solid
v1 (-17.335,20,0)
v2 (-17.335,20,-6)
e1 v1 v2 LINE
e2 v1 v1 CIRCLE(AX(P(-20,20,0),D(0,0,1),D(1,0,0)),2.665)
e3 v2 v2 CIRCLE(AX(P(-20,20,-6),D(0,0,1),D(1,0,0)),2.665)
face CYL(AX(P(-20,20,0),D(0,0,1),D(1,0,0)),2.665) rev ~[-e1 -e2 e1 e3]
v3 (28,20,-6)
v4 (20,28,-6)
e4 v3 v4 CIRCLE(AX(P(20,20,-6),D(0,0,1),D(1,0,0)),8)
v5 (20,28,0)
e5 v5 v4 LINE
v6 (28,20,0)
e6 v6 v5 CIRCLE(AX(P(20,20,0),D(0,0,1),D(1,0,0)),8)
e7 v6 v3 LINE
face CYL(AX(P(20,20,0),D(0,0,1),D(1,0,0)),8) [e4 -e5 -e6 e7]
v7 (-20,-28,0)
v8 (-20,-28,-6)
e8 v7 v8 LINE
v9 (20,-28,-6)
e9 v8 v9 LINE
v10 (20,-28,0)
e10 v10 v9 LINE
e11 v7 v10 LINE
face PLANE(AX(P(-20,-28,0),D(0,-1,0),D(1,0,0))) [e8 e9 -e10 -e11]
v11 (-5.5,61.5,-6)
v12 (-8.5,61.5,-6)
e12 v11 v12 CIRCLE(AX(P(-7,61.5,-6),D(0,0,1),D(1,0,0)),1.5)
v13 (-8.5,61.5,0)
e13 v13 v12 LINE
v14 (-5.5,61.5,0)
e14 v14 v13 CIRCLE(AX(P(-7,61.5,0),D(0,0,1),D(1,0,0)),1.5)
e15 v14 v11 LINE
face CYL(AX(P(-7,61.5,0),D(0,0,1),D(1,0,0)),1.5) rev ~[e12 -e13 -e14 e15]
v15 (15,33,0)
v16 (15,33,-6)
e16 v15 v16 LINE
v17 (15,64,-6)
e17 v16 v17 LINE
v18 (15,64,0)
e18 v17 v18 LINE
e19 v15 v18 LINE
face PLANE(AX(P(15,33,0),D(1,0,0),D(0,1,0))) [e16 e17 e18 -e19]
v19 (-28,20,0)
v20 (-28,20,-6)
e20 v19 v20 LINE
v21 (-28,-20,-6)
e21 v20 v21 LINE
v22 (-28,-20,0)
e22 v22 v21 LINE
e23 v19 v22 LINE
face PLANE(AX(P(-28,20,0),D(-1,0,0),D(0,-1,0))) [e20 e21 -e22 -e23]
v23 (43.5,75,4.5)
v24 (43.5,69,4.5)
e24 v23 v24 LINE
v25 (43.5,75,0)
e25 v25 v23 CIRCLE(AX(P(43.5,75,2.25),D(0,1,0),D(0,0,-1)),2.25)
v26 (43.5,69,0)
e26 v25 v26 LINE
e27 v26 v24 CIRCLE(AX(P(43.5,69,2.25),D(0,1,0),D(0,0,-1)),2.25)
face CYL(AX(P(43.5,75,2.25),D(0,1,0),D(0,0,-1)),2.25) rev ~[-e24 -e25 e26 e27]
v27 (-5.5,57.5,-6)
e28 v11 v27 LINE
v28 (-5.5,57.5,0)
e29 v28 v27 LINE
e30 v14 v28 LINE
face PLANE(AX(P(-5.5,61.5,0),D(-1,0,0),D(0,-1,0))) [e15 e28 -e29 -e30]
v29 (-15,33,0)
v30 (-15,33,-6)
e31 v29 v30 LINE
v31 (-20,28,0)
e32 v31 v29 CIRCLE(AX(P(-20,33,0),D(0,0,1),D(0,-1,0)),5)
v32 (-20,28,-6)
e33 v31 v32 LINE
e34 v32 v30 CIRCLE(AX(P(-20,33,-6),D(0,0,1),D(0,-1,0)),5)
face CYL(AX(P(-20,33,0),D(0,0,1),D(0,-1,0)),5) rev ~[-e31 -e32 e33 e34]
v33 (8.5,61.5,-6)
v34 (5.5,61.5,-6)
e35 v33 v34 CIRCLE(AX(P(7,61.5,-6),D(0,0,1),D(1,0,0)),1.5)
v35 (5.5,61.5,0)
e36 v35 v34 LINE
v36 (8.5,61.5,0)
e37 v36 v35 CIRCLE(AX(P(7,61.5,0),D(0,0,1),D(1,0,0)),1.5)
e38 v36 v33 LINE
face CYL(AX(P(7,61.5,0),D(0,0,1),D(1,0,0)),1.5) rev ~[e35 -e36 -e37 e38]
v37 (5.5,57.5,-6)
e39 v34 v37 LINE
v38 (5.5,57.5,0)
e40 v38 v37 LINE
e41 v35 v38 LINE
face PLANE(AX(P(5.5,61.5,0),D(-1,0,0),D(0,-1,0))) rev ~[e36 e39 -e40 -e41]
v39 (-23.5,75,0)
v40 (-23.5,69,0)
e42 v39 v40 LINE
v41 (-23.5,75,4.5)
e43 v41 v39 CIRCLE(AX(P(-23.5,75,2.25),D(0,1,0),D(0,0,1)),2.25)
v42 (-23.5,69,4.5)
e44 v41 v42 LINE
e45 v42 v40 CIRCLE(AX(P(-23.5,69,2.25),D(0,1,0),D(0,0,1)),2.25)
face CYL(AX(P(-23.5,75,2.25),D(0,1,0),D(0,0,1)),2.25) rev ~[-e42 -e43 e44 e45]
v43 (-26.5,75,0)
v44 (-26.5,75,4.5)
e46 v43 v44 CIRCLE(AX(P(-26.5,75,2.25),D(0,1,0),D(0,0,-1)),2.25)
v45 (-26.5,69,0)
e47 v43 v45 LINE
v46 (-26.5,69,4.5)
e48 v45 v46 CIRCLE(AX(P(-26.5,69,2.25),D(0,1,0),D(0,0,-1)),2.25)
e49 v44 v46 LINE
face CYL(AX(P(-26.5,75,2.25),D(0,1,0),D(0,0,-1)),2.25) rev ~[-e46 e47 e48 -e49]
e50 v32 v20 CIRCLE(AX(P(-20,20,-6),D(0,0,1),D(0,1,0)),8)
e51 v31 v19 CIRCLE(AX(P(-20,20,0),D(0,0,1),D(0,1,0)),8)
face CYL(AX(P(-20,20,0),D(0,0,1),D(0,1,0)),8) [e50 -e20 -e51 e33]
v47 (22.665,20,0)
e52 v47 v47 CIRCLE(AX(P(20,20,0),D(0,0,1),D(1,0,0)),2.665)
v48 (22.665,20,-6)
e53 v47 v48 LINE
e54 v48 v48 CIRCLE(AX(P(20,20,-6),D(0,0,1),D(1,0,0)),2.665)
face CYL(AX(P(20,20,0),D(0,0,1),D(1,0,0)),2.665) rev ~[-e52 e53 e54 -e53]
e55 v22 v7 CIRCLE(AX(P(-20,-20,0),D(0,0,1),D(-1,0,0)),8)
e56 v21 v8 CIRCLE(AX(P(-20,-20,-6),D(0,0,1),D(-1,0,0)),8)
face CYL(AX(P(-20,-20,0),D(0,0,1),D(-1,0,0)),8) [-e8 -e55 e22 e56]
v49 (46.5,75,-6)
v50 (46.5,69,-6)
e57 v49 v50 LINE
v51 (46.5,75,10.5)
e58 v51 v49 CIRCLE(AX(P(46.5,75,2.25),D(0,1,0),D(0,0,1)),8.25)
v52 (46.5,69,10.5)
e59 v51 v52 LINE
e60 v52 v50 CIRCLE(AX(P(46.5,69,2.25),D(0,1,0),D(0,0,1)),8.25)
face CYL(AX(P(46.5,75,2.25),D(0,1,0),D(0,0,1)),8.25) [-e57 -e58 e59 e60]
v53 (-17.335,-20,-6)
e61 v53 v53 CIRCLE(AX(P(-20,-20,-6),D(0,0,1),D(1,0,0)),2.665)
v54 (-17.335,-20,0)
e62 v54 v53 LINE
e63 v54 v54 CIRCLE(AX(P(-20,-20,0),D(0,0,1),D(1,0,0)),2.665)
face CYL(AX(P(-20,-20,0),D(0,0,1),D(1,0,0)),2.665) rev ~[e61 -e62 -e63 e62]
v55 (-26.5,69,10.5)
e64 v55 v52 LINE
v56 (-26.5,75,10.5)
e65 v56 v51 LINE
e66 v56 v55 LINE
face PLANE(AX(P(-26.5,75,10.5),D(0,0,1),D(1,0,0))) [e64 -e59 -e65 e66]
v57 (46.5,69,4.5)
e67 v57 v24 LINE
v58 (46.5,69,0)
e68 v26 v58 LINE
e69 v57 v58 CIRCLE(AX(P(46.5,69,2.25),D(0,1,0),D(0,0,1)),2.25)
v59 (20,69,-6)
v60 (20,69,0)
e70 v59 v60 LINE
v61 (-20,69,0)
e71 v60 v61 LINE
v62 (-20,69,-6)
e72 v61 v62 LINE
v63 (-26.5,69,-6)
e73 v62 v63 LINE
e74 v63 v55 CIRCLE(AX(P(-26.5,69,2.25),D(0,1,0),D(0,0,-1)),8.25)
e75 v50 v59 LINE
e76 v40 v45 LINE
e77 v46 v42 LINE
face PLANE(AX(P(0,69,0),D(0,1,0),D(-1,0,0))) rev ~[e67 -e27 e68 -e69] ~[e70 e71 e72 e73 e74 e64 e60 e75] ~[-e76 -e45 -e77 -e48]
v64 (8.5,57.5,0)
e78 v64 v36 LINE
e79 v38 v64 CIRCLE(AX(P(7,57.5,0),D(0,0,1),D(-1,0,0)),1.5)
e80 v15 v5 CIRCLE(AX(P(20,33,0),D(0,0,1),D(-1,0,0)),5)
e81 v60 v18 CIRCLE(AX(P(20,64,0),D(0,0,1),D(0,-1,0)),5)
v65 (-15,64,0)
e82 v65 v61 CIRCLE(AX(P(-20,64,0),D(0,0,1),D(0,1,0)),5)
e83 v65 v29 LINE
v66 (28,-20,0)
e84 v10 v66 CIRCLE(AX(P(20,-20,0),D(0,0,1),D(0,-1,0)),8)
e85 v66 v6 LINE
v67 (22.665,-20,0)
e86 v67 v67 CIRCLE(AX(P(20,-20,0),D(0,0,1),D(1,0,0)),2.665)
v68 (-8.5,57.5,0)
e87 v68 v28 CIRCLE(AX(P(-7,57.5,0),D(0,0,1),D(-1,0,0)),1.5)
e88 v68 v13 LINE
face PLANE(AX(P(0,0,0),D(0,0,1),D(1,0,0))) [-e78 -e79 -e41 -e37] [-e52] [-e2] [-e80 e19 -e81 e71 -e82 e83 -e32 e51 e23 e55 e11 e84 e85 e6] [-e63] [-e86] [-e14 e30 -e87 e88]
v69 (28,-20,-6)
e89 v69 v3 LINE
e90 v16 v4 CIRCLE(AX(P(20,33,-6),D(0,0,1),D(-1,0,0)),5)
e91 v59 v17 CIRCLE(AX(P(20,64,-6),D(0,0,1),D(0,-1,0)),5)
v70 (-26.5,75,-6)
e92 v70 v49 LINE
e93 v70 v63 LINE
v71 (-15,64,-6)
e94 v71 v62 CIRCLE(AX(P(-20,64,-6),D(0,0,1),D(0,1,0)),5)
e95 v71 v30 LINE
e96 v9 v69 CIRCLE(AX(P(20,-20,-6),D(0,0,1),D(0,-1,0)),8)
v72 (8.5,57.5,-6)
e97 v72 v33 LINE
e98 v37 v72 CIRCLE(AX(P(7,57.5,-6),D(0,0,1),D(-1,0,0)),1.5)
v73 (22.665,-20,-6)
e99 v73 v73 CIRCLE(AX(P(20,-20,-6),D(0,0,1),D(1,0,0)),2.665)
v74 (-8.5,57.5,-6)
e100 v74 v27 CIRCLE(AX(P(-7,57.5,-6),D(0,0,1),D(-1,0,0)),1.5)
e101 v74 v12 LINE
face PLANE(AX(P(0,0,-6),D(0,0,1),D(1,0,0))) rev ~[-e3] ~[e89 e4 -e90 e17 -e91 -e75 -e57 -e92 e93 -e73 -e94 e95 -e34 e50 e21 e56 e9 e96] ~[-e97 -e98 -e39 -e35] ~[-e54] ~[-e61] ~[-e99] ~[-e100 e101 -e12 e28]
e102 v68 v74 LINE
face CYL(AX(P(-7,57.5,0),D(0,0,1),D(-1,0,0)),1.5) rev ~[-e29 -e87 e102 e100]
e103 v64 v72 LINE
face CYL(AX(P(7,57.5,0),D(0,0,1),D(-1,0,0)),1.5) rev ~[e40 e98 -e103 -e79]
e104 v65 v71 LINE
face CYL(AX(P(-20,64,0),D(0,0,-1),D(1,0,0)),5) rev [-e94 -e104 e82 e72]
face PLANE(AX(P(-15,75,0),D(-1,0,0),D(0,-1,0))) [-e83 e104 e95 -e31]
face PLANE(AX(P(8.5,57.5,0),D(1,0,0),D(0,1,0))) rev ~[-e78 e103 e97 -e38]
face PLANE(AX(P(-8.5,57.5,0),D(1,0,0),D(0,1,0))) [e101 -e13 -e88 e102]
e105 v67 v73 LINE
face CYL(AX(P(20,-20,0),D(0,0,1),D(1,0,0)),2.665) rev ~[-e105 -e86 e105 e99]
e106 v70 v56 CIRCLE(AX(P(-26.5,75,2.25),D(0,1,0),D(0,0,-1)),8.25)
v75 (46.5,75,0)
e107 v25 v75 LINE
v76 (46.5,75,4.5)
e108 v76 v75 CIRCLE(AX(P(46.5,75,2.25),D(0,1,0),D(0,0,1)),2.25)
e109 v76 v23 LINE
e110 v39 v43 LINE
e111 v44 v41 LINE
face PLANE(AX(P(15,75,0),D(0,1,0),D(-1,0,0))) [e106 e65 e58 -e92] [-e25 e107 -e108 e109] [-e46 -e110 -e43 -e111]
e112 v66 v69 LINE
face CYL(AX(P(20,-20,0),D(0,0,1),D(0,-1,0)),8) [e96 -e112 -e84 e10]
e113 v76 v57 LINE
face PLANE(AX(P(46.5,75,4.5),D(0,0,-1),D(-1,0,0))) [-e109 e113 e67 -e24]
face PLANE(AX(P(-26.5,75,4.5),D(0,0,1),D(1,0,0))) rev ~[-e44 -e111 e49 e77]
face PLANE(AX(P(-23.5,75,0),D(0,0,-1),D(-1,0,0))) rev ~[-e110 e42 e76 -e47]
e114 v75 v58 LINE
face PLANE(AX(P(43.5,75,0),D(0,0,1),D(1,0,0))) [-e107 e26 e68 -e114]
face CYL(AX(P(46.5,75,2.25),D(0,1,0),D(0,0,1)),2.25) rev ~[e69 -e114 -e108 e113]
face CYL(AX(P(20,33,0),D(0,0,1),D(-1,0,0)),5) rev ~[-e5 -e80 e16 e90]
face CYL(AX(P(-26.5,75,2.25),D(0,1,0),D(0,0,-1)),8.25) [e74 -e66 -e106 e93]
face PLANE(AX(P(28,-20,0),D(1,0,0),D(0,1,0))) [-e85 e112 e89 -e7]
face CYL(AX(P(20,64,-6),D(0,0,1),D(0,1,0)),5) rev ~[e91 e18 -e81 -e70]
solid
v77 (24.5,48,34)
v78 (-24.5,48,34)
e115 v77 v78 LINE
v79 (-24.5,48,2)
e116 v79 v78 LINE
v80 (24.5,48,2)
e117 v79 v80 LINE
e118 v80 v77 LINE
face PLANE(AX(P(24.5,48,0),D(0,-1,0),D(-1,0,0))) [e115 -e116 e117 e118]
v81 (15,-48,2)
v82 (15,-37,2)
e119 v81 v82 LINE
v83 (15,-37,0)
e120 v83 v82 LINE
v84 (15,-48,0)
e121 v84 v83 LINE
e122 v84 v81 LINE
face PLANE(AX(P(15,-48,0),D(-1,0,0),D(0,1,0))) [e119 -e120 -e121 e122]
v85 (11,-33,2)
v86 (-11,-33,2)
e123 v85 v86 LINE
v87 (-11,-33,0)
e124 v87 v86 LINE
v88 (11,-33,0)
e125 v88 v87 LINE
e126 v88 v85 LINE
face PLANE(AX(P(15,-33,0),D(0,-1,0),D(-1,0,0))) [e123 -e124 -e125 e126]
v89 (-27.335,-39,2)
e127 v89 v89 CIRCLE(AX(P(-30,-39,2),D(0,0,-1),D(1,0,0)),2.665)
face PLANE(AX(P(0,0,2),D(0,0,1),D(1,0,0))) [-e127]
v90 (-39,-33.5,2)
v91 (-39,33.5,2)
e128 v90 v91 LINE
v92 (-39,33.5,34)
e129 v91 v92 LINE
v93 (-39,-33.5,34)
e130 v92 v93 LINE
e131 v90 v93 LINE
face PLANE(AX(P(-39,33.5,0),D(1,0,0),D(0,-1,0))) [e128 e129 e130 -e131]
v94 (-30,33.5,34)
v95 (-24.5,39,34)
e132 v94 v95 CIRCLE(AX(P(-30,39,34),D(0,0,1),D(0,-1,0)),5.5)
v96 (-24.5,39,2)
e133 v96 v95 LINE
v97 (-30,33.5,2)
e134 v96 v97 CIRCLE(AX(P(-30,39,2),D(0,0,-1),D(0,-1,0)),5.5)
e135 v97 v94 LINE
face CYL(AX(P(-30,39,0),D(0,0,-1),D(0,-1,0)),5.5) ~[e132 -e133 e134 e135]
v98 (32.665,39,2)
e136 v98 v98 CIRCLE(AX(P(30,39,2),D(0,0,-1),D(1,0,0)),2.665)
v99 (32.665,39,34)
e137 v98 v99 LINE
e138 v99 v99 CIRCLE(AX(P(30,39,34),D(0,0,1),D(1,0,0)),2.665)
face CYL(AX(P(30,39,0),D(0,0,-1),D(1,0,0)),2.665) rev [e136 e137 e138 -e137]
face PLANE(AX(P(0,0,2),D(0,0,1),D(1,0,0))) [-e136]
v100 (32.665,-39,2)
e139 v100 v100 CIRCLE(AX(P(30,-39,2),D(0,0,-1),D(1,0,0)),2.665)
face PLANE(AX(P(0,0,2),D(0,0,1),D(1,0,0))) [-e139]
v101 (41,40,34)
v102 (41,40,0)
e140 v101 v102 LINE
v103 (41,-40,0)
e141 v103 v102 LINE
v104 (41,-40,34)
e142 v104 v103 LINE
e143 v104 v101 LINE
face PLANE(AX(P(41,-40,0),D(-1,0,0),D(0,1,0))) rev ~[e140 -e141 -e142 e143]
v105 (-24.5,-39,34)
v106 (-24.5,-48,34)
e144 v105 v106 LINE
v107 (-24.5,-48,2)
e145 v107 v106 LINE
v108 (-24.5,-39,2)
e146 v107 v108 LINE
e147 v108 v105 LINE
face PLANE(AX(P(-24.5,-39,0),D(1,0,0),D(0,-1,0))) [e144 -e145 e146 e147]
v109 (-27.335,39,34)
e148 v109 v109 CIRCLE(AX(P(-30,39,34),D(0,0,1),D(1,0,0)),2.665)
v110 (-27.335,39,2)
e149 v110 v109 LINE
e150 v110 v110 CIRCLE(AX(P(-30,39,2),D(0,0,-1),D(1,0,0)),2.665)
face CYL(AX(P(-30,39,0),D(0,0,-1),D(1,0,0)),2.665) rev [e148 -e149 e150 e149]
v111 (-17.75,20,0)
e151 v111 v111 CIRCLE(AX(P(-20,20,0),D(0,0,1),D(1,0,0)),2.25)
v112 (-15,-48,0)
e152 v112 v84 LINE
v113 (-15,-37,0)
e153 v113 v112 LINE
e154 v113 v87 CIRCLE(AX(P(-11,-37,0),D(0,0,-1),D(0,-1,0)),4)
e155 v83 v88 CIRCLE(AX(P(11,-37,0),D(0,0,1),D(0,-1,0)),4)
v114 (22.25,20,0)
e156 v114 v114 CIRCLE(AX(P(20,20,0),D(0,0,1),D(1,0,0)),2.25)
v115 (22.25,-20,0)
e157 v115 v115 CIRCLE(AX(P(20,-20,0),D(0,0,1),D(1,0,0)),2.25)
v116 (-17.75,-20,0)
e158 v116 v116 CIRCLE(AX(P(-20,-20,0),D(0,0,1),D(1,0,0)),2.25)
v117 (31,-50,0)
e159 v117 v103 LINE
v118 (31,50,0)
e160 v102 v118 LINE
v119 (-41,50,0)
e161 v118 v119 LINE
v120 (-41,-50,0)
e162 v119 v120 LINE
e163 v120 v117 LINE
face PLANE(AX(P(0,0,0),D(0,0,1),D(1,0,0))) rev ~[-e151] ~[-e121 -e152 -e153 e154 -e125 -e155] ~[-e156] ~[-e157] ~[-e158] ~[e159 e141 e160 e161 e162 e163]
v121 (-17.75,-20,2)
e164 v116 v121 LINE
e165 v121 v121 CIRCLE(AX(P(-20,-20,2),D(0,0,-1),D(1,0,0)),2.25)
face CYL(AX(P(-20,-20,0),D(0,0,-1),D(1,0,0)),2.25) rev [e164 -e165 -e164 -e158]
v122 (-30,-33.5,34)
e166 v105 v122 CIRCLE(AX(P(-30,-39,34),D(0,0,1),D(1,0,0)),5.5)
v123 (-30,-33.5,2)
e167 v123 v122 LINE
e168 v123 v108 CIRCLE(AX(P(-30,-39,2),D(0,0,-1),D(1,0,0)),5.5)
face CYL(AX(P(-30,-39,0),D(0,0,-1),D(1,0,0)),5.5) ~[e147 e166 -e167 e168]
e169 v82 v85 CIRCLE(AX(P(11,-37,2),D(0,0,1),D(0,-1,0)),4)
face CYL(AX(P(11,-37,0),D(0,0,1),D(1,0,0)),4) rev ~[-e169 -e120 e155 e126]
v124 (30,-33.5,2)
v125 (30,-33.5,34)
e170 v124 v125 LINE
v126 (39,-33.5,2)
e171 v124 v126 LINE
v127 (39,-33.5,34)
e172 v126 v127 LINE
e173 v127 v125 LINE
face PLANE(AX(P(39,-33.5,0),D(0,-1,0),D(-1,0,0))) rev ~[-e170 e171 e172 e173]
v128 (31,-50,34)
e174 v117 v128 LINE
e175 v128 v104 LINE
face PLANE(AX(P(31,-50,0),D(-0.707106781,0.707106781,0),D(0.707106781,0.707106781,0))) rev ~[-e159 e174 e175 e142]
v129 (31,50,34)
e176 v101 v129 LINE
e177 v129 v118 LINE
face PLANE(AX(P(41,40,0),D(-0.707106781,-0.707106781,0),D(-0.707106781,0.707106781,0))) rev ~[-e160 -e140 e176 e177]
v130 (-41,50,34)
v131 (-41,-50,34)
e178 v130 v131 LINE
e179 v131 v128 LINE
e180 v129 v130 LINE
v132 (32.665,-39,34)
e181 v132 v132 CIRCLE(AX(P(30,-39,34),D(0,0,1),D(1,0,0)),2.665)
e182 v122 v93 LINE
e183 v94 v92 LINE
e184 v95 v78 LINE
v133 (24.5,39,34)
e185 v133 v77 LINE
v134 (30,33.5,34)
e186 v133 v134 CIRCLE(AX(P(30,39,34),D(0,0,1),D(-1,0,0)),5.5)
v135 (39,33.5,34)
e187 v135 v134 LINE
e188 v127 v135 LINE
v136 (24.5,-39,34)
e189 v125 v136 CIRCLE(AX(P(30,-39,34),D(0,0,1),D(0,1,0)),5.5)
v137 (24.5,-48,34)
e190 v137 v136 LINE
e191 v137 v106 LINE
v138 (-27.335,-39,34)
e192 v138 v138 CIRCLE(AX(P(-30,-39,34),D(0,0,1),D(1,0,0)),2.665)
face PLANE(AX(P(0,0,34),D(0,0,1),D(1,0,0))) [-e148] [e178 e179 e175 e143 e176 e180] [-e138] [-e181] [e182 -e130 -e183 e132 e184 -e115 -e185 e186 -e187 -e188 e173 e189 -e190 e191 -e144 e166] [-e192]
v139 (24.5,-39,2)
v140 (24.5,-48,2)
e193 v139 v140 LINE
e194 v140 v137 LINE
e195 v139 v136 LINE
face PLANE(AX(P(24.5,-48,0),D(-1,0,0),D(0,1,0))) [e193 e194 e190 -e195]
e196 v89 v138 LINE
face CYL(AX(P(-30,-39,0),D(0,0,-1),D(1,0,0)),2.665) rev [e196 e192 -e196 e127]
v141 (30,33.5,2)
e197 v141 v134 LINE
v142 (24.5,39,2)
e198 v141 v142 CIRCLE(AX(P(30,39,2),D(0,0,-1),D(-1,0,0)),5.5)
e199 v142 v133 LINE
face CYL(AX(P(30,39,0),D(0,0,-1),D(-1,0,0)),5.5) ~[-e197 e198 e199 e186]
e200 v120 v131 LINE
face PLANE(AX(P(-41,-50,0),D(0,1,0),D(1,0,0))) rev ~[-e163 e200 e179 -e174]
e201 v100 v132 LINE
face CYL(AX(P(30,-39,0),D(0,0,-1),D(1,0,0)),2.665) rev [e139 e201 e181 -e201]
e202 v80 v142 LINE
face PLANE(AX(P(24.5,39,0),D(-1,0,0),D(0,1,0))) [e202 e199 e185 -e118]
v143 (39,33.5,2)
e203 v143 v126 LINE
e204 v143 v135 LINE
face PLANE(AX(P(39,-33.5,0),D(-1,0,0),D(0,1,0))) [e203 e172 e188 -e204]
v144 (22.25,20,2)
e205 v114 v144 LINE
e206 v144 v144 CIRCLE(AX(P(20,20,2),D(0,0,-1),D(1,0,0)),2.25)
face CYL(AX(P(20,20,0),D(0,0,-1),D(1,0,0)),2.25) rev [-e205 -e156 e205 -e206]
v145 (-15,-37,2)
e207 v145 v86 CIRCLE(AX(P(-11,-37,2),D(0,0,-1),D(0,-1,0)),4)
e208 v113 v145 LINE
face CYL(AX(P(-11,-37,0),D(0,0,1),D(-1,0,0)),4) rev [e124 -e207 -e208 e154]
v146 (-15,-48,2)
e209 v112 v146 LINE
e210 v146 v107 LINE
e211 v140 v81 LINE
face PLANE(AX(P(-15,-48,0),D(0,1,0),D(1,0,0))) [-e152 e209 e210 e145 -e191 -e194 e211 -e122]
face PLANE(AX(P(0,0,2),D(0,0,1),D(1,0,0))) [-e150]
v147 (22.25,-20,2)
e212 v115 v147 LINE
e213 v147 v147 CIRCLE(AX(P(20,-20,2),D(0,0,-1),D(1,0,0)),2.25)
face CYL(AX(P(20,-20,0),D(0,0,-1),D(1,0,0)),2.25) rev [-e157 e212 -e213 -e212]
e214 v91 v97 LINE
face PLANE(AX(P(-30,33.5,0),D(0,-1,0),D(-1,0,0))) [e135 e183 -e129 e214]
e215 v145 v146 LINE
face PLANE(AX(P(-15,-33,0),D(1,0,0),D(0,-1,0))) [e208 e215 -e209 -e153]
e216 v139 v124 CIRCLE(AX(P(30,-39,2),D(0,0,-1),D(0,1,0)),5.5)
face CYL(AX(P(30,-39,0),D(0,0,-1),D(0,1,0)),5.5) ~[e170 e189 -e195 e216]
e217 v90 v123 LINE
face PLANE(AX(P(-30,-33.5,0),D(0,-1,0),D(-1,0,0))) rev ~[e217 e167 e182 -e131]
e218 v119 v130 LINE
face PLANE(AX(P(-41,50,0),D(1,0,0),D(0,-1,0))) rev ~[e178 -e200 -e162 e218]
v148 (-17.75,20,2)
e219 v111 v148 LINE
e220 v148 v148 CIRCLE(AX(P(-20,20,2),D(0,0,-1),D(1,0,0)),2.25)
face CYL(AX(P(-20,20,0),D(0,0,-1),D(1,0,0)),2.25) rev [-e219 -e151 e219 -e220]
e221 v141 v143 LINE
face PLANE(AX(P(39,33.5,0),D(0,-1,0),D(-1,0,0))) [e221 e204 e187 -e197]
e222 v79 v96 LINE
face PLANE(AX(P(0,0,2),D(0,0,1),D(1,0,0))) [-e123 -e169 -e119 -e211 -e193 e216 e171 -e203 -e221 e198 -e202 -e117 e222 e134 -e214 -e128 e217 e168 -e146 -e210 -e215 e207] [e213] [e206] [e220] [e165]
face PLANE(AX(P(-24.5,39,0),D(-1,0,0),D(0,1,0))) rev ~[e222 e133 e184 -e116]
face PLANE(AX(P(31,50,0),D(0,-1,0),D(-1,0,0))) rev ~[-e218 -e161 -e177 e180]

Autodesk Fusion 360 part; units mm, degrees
sketch "Sketch1" plane through (0, 0, 0) normal (0, 0, 1) x (1, 0, 0)
  line L0 (-41, 50) -> (-41, -50)
  line L1 (-41, -50) -> (31, -50)
  line L2 (31, -50) -> (41, -40)
  line L3 (41, -40) -> (41, 40)
  line L4 (41, 40) -> (31, 50)
  line L5 (31, 50) -> (-41, 50)
  line L6 (-30, 39) -> (30, 39) construction
  line L7 (30, 39) -> (30, -39) construction
  line L8 (30, -39) -> (-30, -39) construction
  line L9 (-30, -39) -> (-30, 39) construction
  line L10 (0, -39) -> (0, 39) construction
  line L11 (-41, 0) -> (41, 0) construction
  circle A0 centre (-30, 39) radius 2.665
  circle A1 centre (30, 39) radius 2.665
  circle A2 centre (30, -39) radius 2.665
  circle A3 centre (-30, -39) radius 2.665
  line L12 (30.1716, -48) -> (39, -39.1716)
  line L13 (39, -39.1716) -> (39, 39.1716)
  line L14 (39, 39.1716) -> (30.1716, 48)
  line L15 (30.1716, 48) -> (-39, 48)
  line L16 (-39, 48) -> (-39, -48)
  line L17 (-39, -48) -> (30.1716, -48)
  line L18 (-14, 37) -> (14, 37) construction
  line L19 (29, 22) -> (29, -22) construction
  line L20 (14, -37) -> (-14, -37) construction
  line L21 (-29, -22) -> (-29, 22) construction
  line L22 (-29, 0) -> (29, 0) construction
  arc A4 (29, 22) -> (14, 37) centre (14, 22) ccw construction
  arc A5 (-14, 37) -> (-29, 22) centre (-14, 22) ccw construction
  arc A6 (-29, -22) -> (-14, -37) centre (-14, -22) ccw construction
  arc A7 (14, -37) -> (29, -22) centre (14, -22) ccw construction
  arc A8 (24.5, 39) -> (30, 33.5) centre (30, 39) ccw
  arc A9 (30, -33.5) -> (24.5, -39) centre (30, -39) ccw
  line L23 (24.5, -48) -> (24.5, -39)
  line L24 (39, -33.5) -> (30, -33.5)
  line L25 (39, 33.5) -> (30, 33.5)
  line L26 (24.5, 39) -> (24.5, 48)
  arc A10 (-24.5, -39) -> (-30, -33.5) centre (-30, -39) ccw
  arc A11 (-30, 33.5) -> (-24.5, 39) centre (-30, 39) ccw
  line L27 (-30, 33.5) -> (-39, 33.5)
  line L28 (-24.5, 39) -> (-24.5, 48)
  line L29 (-30, -33.5) -> (-39, -33.5)
  line L30 (-24.5, -39) -> (-24.5, -48)
  line L31 (-15, -48) -> (15, -48)
  line L32 (15, -48) -> (15, -33)
  line L33 (15, -33) -> (-15, -33)
  line L34 (-15, -33) -> (-15, -48)
  point P0 (-29, 37)
  point P1 (29, 37)
  point P2 (-29, -37)
  point P3 (0, -33)
  dimension "d1" = 60
  dimension "d2" = 78
  dimension "d3" = 82
  dimension "d4" = 100
  dimension "d5" = 135
  dimension "d6" = 10
  dimension "d8" = 5.33
  dimension "d10" = 58
  dimension "d11" = 74
  dimension "d12" = 15
  dimension "d19" = 5.5
  dimension "d53" = 30
  dimension "d54" = 15
extrude "Extrude1" add sketch "Sketch1" along normal blind 2 contours L0 L1 L2 L3 L4 L5 | A0 | A1 | A2 | A3 | L12 L13 L17 A9 L23 L24 | L13 L15 L16 L17 A8 A9 L23 L24 L25 L26 A10 A11 L27 L28 L29 L30 L32 L33 L34 | L13 L14 L15 A8 L25 L26 | L16 L17 A10 L29 L30 | L15 L16 A11 L27 L28 makes body 1
extrude "Extrude2" add sketch "Sketch1" along normal blind 34 contours L0 L1 L2 L3 L4 L5 | L12 L13 L17 A9 L23 L24 | L13 L14 L15 A8 L25 L26 | L16 L17 A10 L29 L30 | L15 L16 A11 L27 L28 bodies 1
fillet "Fillet2" radius 4 2 edges at (-15, -33, 1) (15, -33, 1) on bodies 1
sketch "Sketch3" plane through (0, 0, 0) normal (0, 0, 1) x (1, 0, 0)
  line L0 (20, 20) -> (-20, 20) construction
  line L1 (-20, 20) -> (-20, -20) construction
  line L2 (-20, -20) -> (20, -20) construction
  line L3 (20, -20) -> (20, 20) construction
  line L4 (20, 0) -> (-20, 0) construction
  circle A0 centre (20, 20) radius 2.665
  circle A1 centre (-20, 20) radius 2.665
  circle A2 centre (-20, -20) radius 2.665
  circle A3 centre (20, -20) radius 2.665
  arc A4 (28, 20) -> (20, 28) centre (20, 20) ccw
  arc A5 (-20, 28) -> (-28, 20) centre (-20, 20) ccw
  arc A6 (-28, -20) -> (-20, -28) centre (-20, -20) ccw
  arc A7 (20, -28) -> (28, -20) centre (20, -20) ccw
  line L5 (28, -20) -> (28, 20)
  line L6 (20, 28) -> (-20, 28)
  line L7 (-28, 20) -> (-28, -20)
  line L8 (-20, -28) -> (20, -28)
  line L9 (31, 50) -> (-41, 50) construction
  line L10 (15, 75) -> (-15, 75)
  line L11 (-15, 75) -> (-15, 28)
  line L12 (-15, 28) -> (15, 28)
  line L13 (15, 28) -> (15, 75)
  line L14 (15, 50) -> (-15, 50) construction
  line L15 (0, 50) -> (0, 75) construction
  line L16 (7, 61.5) -> (7, 57.5) construction
  arc A8 (8.5, 61.5) -> (5.5, 61.5) centre (7, 61.5) ccw
  arc A9 (5.5, 57.5) -> (8.5, 57.5) centre (7, 57.5) ccw
  line L17 (8.5, 57.5) -> (8.5, 61.5)
  line L18 (5.5, 61.5) -> (5.5, 57.5)
  line L19 (-8.5, 57.5) -> (-8.5, 61.5)
  arc A10 (-5.5, 61.5) -> (-8.5, 61.5) centre (-7, 61.5) ccw
  arc A11 (-8.5, 57.5) -> (-5.5, 57.5) centre (-7, 57.5) ccw
  line L20 (-5.5, 61.5) -> (-5.5, 57.5)
  line L21 (7, 57.5) -> (15, 57.5) construction
  arc A12 (15, 33) -> (20, 28) centre (20, 33) ccw
  arc A13 (-20, 28) -> (-15, 33) centre (-20, 33) ccw
  line L22 (-15, 69) -> (15, 69) construction
  line L23 (7, 69) -> (7, 61.5) construction
  line L24 (7, 50) -> (7, 57.5) construction
  point P0 (7, 59.5)
  dimension "d24" = 40
  dimension "d25" = 40
  dimension "d26" = 5.33
  dimension "d28" = 8
  dimension "d32" = 30
  dimension "d48" = 25
  dimension "d50" = 1.5
  dimension "d51" = 4
  dimension "d66" = 7
  dimension "d67" = 6
sketch "Sketch7" plane through (0, 0, 0) normal (0, 0, 1) x (1, 0, 0)
  circle A0 centre (-20, 20) radius 2.25
  circle A1 centre (20, 20) radius 2.25
  circle A2 centre (20, -20) radius 2.25
  circle A3 centre (-20, -20) radius 2.25
  point P0 (-20, 20)
  point P1 (20, 20)
  point P2 (20, -20)
  point P3 (-20, -20)
  dimension "d61" = 4.5
extrude "Extrude7" cut sketch "Sketch7" along normal through all bodies 1
copy_body "Body->Comp1" bodies 1 removing the originals makes body 2 in component "Box"
extrude "Extrude5" add sketch "Sketch3" against normal blind 6 separate body makes body 3
sketch "Sketch4" plane through (0, 75, 0) normal (0, 1, 0) x (-1, 0, 0)
  line L0 (15, 0) -> (-15, 0)
  line L1 (15, -6) -> (15, 0)
  line L2 (-15, -6) -> (15, -6)
  line L3 (-15, 0) -> (-15, -6)
  arc A0 (26.5, -6) -> (26.5, 10.5) centre (26.5, 2.25) ccw
  arc A1 (-46.5, 10.5) -> (-46.5, -6) centre (-46.5, 2.25) ccw
  line L4 (26.5, 10.5) -> (-46.5, 10.5)
  line L5 (-46.5, -6) -> (26.5, -6)
  line L6 (26.5, 4.5) -> (23.5, 4.5)
  line L7 (23.5, 0) -> (26.5, 0)
  line L8 (26.5, 2.25) -> (23.5, 2.25) construction
  arc A2 (26.5, 0) -> (26.5, 4.5) centre (26.5, 2.25) ccw
  arc A3 (23.5, 4.5) -> (23.5, 0) centre (23.5, 2.25) ccw
  line L9 (-10, 10.5) -> (-10, -6) construction
  arc A4 (-43.5, 0) -> (-43.5, 4.5) centre (-43.5, 2.25) ccw
  arc A5 (-46.5, 4.5) -> (-46.5, 0) centre (-46.5, 2.25) ccw
  line L10 (-43.5, 0) -> (-46.5, 0)
  line L11 (-46.5, 4.5) -> (-43.5, 4.5)
  point P0 (25, 2.25)
  point P1 (-45, 2.25)
  point P2 (0, -6)
  dimension "d39" = 4.5
  dimension "d40" = 6
  dimension "d41" = 3
  dimension "d43" = 70
  dimension "d57" = 10
extrude "Extrude6" add sketch "Sketch4" against normal blind 6 bodies 3
fillet "Fillet3" radius 5 2 edges at (-15, 69, -3) (15, 69, -3) on bodies 3
copy_body "Body->Comp2" bodies 3 removing the originals makes body 4 in component "Mount"
component "Box" placed x (1, 0, 0) y (0, 1, 0) z (0, 0, 1) at (0, 0, 0)
component "Mount" placed x (1, 0, 0) y (0, 1, 0) z (0, 0, 1) at (0, 0, 0)
equation "d5 = 180 deg - 45 deg"
equation "BoxWallThickness = 2 mm"
equation "d8 = InsertDiameter"
equation "d9 = -BoxWallThickness"
equation "BoxDepth = 34 mm"
equation "d15 = BoxWallThickness"
equation "d17 = BoxDepth"
equation "d26 = InsertDiameter"
equation "MountThickness = 6 mm"
equation "d36 = -MountThickness"
equation "d40 = MountThickness"
equation "d44 = -MountThickness"
equation "d50 = ( 3 / 2 ) * 1 mm"
equation "InsertDiameter = 5.33 mm"
equation "InsertDepth = 6.5 mm"
equation "d67 = MountThickness"
